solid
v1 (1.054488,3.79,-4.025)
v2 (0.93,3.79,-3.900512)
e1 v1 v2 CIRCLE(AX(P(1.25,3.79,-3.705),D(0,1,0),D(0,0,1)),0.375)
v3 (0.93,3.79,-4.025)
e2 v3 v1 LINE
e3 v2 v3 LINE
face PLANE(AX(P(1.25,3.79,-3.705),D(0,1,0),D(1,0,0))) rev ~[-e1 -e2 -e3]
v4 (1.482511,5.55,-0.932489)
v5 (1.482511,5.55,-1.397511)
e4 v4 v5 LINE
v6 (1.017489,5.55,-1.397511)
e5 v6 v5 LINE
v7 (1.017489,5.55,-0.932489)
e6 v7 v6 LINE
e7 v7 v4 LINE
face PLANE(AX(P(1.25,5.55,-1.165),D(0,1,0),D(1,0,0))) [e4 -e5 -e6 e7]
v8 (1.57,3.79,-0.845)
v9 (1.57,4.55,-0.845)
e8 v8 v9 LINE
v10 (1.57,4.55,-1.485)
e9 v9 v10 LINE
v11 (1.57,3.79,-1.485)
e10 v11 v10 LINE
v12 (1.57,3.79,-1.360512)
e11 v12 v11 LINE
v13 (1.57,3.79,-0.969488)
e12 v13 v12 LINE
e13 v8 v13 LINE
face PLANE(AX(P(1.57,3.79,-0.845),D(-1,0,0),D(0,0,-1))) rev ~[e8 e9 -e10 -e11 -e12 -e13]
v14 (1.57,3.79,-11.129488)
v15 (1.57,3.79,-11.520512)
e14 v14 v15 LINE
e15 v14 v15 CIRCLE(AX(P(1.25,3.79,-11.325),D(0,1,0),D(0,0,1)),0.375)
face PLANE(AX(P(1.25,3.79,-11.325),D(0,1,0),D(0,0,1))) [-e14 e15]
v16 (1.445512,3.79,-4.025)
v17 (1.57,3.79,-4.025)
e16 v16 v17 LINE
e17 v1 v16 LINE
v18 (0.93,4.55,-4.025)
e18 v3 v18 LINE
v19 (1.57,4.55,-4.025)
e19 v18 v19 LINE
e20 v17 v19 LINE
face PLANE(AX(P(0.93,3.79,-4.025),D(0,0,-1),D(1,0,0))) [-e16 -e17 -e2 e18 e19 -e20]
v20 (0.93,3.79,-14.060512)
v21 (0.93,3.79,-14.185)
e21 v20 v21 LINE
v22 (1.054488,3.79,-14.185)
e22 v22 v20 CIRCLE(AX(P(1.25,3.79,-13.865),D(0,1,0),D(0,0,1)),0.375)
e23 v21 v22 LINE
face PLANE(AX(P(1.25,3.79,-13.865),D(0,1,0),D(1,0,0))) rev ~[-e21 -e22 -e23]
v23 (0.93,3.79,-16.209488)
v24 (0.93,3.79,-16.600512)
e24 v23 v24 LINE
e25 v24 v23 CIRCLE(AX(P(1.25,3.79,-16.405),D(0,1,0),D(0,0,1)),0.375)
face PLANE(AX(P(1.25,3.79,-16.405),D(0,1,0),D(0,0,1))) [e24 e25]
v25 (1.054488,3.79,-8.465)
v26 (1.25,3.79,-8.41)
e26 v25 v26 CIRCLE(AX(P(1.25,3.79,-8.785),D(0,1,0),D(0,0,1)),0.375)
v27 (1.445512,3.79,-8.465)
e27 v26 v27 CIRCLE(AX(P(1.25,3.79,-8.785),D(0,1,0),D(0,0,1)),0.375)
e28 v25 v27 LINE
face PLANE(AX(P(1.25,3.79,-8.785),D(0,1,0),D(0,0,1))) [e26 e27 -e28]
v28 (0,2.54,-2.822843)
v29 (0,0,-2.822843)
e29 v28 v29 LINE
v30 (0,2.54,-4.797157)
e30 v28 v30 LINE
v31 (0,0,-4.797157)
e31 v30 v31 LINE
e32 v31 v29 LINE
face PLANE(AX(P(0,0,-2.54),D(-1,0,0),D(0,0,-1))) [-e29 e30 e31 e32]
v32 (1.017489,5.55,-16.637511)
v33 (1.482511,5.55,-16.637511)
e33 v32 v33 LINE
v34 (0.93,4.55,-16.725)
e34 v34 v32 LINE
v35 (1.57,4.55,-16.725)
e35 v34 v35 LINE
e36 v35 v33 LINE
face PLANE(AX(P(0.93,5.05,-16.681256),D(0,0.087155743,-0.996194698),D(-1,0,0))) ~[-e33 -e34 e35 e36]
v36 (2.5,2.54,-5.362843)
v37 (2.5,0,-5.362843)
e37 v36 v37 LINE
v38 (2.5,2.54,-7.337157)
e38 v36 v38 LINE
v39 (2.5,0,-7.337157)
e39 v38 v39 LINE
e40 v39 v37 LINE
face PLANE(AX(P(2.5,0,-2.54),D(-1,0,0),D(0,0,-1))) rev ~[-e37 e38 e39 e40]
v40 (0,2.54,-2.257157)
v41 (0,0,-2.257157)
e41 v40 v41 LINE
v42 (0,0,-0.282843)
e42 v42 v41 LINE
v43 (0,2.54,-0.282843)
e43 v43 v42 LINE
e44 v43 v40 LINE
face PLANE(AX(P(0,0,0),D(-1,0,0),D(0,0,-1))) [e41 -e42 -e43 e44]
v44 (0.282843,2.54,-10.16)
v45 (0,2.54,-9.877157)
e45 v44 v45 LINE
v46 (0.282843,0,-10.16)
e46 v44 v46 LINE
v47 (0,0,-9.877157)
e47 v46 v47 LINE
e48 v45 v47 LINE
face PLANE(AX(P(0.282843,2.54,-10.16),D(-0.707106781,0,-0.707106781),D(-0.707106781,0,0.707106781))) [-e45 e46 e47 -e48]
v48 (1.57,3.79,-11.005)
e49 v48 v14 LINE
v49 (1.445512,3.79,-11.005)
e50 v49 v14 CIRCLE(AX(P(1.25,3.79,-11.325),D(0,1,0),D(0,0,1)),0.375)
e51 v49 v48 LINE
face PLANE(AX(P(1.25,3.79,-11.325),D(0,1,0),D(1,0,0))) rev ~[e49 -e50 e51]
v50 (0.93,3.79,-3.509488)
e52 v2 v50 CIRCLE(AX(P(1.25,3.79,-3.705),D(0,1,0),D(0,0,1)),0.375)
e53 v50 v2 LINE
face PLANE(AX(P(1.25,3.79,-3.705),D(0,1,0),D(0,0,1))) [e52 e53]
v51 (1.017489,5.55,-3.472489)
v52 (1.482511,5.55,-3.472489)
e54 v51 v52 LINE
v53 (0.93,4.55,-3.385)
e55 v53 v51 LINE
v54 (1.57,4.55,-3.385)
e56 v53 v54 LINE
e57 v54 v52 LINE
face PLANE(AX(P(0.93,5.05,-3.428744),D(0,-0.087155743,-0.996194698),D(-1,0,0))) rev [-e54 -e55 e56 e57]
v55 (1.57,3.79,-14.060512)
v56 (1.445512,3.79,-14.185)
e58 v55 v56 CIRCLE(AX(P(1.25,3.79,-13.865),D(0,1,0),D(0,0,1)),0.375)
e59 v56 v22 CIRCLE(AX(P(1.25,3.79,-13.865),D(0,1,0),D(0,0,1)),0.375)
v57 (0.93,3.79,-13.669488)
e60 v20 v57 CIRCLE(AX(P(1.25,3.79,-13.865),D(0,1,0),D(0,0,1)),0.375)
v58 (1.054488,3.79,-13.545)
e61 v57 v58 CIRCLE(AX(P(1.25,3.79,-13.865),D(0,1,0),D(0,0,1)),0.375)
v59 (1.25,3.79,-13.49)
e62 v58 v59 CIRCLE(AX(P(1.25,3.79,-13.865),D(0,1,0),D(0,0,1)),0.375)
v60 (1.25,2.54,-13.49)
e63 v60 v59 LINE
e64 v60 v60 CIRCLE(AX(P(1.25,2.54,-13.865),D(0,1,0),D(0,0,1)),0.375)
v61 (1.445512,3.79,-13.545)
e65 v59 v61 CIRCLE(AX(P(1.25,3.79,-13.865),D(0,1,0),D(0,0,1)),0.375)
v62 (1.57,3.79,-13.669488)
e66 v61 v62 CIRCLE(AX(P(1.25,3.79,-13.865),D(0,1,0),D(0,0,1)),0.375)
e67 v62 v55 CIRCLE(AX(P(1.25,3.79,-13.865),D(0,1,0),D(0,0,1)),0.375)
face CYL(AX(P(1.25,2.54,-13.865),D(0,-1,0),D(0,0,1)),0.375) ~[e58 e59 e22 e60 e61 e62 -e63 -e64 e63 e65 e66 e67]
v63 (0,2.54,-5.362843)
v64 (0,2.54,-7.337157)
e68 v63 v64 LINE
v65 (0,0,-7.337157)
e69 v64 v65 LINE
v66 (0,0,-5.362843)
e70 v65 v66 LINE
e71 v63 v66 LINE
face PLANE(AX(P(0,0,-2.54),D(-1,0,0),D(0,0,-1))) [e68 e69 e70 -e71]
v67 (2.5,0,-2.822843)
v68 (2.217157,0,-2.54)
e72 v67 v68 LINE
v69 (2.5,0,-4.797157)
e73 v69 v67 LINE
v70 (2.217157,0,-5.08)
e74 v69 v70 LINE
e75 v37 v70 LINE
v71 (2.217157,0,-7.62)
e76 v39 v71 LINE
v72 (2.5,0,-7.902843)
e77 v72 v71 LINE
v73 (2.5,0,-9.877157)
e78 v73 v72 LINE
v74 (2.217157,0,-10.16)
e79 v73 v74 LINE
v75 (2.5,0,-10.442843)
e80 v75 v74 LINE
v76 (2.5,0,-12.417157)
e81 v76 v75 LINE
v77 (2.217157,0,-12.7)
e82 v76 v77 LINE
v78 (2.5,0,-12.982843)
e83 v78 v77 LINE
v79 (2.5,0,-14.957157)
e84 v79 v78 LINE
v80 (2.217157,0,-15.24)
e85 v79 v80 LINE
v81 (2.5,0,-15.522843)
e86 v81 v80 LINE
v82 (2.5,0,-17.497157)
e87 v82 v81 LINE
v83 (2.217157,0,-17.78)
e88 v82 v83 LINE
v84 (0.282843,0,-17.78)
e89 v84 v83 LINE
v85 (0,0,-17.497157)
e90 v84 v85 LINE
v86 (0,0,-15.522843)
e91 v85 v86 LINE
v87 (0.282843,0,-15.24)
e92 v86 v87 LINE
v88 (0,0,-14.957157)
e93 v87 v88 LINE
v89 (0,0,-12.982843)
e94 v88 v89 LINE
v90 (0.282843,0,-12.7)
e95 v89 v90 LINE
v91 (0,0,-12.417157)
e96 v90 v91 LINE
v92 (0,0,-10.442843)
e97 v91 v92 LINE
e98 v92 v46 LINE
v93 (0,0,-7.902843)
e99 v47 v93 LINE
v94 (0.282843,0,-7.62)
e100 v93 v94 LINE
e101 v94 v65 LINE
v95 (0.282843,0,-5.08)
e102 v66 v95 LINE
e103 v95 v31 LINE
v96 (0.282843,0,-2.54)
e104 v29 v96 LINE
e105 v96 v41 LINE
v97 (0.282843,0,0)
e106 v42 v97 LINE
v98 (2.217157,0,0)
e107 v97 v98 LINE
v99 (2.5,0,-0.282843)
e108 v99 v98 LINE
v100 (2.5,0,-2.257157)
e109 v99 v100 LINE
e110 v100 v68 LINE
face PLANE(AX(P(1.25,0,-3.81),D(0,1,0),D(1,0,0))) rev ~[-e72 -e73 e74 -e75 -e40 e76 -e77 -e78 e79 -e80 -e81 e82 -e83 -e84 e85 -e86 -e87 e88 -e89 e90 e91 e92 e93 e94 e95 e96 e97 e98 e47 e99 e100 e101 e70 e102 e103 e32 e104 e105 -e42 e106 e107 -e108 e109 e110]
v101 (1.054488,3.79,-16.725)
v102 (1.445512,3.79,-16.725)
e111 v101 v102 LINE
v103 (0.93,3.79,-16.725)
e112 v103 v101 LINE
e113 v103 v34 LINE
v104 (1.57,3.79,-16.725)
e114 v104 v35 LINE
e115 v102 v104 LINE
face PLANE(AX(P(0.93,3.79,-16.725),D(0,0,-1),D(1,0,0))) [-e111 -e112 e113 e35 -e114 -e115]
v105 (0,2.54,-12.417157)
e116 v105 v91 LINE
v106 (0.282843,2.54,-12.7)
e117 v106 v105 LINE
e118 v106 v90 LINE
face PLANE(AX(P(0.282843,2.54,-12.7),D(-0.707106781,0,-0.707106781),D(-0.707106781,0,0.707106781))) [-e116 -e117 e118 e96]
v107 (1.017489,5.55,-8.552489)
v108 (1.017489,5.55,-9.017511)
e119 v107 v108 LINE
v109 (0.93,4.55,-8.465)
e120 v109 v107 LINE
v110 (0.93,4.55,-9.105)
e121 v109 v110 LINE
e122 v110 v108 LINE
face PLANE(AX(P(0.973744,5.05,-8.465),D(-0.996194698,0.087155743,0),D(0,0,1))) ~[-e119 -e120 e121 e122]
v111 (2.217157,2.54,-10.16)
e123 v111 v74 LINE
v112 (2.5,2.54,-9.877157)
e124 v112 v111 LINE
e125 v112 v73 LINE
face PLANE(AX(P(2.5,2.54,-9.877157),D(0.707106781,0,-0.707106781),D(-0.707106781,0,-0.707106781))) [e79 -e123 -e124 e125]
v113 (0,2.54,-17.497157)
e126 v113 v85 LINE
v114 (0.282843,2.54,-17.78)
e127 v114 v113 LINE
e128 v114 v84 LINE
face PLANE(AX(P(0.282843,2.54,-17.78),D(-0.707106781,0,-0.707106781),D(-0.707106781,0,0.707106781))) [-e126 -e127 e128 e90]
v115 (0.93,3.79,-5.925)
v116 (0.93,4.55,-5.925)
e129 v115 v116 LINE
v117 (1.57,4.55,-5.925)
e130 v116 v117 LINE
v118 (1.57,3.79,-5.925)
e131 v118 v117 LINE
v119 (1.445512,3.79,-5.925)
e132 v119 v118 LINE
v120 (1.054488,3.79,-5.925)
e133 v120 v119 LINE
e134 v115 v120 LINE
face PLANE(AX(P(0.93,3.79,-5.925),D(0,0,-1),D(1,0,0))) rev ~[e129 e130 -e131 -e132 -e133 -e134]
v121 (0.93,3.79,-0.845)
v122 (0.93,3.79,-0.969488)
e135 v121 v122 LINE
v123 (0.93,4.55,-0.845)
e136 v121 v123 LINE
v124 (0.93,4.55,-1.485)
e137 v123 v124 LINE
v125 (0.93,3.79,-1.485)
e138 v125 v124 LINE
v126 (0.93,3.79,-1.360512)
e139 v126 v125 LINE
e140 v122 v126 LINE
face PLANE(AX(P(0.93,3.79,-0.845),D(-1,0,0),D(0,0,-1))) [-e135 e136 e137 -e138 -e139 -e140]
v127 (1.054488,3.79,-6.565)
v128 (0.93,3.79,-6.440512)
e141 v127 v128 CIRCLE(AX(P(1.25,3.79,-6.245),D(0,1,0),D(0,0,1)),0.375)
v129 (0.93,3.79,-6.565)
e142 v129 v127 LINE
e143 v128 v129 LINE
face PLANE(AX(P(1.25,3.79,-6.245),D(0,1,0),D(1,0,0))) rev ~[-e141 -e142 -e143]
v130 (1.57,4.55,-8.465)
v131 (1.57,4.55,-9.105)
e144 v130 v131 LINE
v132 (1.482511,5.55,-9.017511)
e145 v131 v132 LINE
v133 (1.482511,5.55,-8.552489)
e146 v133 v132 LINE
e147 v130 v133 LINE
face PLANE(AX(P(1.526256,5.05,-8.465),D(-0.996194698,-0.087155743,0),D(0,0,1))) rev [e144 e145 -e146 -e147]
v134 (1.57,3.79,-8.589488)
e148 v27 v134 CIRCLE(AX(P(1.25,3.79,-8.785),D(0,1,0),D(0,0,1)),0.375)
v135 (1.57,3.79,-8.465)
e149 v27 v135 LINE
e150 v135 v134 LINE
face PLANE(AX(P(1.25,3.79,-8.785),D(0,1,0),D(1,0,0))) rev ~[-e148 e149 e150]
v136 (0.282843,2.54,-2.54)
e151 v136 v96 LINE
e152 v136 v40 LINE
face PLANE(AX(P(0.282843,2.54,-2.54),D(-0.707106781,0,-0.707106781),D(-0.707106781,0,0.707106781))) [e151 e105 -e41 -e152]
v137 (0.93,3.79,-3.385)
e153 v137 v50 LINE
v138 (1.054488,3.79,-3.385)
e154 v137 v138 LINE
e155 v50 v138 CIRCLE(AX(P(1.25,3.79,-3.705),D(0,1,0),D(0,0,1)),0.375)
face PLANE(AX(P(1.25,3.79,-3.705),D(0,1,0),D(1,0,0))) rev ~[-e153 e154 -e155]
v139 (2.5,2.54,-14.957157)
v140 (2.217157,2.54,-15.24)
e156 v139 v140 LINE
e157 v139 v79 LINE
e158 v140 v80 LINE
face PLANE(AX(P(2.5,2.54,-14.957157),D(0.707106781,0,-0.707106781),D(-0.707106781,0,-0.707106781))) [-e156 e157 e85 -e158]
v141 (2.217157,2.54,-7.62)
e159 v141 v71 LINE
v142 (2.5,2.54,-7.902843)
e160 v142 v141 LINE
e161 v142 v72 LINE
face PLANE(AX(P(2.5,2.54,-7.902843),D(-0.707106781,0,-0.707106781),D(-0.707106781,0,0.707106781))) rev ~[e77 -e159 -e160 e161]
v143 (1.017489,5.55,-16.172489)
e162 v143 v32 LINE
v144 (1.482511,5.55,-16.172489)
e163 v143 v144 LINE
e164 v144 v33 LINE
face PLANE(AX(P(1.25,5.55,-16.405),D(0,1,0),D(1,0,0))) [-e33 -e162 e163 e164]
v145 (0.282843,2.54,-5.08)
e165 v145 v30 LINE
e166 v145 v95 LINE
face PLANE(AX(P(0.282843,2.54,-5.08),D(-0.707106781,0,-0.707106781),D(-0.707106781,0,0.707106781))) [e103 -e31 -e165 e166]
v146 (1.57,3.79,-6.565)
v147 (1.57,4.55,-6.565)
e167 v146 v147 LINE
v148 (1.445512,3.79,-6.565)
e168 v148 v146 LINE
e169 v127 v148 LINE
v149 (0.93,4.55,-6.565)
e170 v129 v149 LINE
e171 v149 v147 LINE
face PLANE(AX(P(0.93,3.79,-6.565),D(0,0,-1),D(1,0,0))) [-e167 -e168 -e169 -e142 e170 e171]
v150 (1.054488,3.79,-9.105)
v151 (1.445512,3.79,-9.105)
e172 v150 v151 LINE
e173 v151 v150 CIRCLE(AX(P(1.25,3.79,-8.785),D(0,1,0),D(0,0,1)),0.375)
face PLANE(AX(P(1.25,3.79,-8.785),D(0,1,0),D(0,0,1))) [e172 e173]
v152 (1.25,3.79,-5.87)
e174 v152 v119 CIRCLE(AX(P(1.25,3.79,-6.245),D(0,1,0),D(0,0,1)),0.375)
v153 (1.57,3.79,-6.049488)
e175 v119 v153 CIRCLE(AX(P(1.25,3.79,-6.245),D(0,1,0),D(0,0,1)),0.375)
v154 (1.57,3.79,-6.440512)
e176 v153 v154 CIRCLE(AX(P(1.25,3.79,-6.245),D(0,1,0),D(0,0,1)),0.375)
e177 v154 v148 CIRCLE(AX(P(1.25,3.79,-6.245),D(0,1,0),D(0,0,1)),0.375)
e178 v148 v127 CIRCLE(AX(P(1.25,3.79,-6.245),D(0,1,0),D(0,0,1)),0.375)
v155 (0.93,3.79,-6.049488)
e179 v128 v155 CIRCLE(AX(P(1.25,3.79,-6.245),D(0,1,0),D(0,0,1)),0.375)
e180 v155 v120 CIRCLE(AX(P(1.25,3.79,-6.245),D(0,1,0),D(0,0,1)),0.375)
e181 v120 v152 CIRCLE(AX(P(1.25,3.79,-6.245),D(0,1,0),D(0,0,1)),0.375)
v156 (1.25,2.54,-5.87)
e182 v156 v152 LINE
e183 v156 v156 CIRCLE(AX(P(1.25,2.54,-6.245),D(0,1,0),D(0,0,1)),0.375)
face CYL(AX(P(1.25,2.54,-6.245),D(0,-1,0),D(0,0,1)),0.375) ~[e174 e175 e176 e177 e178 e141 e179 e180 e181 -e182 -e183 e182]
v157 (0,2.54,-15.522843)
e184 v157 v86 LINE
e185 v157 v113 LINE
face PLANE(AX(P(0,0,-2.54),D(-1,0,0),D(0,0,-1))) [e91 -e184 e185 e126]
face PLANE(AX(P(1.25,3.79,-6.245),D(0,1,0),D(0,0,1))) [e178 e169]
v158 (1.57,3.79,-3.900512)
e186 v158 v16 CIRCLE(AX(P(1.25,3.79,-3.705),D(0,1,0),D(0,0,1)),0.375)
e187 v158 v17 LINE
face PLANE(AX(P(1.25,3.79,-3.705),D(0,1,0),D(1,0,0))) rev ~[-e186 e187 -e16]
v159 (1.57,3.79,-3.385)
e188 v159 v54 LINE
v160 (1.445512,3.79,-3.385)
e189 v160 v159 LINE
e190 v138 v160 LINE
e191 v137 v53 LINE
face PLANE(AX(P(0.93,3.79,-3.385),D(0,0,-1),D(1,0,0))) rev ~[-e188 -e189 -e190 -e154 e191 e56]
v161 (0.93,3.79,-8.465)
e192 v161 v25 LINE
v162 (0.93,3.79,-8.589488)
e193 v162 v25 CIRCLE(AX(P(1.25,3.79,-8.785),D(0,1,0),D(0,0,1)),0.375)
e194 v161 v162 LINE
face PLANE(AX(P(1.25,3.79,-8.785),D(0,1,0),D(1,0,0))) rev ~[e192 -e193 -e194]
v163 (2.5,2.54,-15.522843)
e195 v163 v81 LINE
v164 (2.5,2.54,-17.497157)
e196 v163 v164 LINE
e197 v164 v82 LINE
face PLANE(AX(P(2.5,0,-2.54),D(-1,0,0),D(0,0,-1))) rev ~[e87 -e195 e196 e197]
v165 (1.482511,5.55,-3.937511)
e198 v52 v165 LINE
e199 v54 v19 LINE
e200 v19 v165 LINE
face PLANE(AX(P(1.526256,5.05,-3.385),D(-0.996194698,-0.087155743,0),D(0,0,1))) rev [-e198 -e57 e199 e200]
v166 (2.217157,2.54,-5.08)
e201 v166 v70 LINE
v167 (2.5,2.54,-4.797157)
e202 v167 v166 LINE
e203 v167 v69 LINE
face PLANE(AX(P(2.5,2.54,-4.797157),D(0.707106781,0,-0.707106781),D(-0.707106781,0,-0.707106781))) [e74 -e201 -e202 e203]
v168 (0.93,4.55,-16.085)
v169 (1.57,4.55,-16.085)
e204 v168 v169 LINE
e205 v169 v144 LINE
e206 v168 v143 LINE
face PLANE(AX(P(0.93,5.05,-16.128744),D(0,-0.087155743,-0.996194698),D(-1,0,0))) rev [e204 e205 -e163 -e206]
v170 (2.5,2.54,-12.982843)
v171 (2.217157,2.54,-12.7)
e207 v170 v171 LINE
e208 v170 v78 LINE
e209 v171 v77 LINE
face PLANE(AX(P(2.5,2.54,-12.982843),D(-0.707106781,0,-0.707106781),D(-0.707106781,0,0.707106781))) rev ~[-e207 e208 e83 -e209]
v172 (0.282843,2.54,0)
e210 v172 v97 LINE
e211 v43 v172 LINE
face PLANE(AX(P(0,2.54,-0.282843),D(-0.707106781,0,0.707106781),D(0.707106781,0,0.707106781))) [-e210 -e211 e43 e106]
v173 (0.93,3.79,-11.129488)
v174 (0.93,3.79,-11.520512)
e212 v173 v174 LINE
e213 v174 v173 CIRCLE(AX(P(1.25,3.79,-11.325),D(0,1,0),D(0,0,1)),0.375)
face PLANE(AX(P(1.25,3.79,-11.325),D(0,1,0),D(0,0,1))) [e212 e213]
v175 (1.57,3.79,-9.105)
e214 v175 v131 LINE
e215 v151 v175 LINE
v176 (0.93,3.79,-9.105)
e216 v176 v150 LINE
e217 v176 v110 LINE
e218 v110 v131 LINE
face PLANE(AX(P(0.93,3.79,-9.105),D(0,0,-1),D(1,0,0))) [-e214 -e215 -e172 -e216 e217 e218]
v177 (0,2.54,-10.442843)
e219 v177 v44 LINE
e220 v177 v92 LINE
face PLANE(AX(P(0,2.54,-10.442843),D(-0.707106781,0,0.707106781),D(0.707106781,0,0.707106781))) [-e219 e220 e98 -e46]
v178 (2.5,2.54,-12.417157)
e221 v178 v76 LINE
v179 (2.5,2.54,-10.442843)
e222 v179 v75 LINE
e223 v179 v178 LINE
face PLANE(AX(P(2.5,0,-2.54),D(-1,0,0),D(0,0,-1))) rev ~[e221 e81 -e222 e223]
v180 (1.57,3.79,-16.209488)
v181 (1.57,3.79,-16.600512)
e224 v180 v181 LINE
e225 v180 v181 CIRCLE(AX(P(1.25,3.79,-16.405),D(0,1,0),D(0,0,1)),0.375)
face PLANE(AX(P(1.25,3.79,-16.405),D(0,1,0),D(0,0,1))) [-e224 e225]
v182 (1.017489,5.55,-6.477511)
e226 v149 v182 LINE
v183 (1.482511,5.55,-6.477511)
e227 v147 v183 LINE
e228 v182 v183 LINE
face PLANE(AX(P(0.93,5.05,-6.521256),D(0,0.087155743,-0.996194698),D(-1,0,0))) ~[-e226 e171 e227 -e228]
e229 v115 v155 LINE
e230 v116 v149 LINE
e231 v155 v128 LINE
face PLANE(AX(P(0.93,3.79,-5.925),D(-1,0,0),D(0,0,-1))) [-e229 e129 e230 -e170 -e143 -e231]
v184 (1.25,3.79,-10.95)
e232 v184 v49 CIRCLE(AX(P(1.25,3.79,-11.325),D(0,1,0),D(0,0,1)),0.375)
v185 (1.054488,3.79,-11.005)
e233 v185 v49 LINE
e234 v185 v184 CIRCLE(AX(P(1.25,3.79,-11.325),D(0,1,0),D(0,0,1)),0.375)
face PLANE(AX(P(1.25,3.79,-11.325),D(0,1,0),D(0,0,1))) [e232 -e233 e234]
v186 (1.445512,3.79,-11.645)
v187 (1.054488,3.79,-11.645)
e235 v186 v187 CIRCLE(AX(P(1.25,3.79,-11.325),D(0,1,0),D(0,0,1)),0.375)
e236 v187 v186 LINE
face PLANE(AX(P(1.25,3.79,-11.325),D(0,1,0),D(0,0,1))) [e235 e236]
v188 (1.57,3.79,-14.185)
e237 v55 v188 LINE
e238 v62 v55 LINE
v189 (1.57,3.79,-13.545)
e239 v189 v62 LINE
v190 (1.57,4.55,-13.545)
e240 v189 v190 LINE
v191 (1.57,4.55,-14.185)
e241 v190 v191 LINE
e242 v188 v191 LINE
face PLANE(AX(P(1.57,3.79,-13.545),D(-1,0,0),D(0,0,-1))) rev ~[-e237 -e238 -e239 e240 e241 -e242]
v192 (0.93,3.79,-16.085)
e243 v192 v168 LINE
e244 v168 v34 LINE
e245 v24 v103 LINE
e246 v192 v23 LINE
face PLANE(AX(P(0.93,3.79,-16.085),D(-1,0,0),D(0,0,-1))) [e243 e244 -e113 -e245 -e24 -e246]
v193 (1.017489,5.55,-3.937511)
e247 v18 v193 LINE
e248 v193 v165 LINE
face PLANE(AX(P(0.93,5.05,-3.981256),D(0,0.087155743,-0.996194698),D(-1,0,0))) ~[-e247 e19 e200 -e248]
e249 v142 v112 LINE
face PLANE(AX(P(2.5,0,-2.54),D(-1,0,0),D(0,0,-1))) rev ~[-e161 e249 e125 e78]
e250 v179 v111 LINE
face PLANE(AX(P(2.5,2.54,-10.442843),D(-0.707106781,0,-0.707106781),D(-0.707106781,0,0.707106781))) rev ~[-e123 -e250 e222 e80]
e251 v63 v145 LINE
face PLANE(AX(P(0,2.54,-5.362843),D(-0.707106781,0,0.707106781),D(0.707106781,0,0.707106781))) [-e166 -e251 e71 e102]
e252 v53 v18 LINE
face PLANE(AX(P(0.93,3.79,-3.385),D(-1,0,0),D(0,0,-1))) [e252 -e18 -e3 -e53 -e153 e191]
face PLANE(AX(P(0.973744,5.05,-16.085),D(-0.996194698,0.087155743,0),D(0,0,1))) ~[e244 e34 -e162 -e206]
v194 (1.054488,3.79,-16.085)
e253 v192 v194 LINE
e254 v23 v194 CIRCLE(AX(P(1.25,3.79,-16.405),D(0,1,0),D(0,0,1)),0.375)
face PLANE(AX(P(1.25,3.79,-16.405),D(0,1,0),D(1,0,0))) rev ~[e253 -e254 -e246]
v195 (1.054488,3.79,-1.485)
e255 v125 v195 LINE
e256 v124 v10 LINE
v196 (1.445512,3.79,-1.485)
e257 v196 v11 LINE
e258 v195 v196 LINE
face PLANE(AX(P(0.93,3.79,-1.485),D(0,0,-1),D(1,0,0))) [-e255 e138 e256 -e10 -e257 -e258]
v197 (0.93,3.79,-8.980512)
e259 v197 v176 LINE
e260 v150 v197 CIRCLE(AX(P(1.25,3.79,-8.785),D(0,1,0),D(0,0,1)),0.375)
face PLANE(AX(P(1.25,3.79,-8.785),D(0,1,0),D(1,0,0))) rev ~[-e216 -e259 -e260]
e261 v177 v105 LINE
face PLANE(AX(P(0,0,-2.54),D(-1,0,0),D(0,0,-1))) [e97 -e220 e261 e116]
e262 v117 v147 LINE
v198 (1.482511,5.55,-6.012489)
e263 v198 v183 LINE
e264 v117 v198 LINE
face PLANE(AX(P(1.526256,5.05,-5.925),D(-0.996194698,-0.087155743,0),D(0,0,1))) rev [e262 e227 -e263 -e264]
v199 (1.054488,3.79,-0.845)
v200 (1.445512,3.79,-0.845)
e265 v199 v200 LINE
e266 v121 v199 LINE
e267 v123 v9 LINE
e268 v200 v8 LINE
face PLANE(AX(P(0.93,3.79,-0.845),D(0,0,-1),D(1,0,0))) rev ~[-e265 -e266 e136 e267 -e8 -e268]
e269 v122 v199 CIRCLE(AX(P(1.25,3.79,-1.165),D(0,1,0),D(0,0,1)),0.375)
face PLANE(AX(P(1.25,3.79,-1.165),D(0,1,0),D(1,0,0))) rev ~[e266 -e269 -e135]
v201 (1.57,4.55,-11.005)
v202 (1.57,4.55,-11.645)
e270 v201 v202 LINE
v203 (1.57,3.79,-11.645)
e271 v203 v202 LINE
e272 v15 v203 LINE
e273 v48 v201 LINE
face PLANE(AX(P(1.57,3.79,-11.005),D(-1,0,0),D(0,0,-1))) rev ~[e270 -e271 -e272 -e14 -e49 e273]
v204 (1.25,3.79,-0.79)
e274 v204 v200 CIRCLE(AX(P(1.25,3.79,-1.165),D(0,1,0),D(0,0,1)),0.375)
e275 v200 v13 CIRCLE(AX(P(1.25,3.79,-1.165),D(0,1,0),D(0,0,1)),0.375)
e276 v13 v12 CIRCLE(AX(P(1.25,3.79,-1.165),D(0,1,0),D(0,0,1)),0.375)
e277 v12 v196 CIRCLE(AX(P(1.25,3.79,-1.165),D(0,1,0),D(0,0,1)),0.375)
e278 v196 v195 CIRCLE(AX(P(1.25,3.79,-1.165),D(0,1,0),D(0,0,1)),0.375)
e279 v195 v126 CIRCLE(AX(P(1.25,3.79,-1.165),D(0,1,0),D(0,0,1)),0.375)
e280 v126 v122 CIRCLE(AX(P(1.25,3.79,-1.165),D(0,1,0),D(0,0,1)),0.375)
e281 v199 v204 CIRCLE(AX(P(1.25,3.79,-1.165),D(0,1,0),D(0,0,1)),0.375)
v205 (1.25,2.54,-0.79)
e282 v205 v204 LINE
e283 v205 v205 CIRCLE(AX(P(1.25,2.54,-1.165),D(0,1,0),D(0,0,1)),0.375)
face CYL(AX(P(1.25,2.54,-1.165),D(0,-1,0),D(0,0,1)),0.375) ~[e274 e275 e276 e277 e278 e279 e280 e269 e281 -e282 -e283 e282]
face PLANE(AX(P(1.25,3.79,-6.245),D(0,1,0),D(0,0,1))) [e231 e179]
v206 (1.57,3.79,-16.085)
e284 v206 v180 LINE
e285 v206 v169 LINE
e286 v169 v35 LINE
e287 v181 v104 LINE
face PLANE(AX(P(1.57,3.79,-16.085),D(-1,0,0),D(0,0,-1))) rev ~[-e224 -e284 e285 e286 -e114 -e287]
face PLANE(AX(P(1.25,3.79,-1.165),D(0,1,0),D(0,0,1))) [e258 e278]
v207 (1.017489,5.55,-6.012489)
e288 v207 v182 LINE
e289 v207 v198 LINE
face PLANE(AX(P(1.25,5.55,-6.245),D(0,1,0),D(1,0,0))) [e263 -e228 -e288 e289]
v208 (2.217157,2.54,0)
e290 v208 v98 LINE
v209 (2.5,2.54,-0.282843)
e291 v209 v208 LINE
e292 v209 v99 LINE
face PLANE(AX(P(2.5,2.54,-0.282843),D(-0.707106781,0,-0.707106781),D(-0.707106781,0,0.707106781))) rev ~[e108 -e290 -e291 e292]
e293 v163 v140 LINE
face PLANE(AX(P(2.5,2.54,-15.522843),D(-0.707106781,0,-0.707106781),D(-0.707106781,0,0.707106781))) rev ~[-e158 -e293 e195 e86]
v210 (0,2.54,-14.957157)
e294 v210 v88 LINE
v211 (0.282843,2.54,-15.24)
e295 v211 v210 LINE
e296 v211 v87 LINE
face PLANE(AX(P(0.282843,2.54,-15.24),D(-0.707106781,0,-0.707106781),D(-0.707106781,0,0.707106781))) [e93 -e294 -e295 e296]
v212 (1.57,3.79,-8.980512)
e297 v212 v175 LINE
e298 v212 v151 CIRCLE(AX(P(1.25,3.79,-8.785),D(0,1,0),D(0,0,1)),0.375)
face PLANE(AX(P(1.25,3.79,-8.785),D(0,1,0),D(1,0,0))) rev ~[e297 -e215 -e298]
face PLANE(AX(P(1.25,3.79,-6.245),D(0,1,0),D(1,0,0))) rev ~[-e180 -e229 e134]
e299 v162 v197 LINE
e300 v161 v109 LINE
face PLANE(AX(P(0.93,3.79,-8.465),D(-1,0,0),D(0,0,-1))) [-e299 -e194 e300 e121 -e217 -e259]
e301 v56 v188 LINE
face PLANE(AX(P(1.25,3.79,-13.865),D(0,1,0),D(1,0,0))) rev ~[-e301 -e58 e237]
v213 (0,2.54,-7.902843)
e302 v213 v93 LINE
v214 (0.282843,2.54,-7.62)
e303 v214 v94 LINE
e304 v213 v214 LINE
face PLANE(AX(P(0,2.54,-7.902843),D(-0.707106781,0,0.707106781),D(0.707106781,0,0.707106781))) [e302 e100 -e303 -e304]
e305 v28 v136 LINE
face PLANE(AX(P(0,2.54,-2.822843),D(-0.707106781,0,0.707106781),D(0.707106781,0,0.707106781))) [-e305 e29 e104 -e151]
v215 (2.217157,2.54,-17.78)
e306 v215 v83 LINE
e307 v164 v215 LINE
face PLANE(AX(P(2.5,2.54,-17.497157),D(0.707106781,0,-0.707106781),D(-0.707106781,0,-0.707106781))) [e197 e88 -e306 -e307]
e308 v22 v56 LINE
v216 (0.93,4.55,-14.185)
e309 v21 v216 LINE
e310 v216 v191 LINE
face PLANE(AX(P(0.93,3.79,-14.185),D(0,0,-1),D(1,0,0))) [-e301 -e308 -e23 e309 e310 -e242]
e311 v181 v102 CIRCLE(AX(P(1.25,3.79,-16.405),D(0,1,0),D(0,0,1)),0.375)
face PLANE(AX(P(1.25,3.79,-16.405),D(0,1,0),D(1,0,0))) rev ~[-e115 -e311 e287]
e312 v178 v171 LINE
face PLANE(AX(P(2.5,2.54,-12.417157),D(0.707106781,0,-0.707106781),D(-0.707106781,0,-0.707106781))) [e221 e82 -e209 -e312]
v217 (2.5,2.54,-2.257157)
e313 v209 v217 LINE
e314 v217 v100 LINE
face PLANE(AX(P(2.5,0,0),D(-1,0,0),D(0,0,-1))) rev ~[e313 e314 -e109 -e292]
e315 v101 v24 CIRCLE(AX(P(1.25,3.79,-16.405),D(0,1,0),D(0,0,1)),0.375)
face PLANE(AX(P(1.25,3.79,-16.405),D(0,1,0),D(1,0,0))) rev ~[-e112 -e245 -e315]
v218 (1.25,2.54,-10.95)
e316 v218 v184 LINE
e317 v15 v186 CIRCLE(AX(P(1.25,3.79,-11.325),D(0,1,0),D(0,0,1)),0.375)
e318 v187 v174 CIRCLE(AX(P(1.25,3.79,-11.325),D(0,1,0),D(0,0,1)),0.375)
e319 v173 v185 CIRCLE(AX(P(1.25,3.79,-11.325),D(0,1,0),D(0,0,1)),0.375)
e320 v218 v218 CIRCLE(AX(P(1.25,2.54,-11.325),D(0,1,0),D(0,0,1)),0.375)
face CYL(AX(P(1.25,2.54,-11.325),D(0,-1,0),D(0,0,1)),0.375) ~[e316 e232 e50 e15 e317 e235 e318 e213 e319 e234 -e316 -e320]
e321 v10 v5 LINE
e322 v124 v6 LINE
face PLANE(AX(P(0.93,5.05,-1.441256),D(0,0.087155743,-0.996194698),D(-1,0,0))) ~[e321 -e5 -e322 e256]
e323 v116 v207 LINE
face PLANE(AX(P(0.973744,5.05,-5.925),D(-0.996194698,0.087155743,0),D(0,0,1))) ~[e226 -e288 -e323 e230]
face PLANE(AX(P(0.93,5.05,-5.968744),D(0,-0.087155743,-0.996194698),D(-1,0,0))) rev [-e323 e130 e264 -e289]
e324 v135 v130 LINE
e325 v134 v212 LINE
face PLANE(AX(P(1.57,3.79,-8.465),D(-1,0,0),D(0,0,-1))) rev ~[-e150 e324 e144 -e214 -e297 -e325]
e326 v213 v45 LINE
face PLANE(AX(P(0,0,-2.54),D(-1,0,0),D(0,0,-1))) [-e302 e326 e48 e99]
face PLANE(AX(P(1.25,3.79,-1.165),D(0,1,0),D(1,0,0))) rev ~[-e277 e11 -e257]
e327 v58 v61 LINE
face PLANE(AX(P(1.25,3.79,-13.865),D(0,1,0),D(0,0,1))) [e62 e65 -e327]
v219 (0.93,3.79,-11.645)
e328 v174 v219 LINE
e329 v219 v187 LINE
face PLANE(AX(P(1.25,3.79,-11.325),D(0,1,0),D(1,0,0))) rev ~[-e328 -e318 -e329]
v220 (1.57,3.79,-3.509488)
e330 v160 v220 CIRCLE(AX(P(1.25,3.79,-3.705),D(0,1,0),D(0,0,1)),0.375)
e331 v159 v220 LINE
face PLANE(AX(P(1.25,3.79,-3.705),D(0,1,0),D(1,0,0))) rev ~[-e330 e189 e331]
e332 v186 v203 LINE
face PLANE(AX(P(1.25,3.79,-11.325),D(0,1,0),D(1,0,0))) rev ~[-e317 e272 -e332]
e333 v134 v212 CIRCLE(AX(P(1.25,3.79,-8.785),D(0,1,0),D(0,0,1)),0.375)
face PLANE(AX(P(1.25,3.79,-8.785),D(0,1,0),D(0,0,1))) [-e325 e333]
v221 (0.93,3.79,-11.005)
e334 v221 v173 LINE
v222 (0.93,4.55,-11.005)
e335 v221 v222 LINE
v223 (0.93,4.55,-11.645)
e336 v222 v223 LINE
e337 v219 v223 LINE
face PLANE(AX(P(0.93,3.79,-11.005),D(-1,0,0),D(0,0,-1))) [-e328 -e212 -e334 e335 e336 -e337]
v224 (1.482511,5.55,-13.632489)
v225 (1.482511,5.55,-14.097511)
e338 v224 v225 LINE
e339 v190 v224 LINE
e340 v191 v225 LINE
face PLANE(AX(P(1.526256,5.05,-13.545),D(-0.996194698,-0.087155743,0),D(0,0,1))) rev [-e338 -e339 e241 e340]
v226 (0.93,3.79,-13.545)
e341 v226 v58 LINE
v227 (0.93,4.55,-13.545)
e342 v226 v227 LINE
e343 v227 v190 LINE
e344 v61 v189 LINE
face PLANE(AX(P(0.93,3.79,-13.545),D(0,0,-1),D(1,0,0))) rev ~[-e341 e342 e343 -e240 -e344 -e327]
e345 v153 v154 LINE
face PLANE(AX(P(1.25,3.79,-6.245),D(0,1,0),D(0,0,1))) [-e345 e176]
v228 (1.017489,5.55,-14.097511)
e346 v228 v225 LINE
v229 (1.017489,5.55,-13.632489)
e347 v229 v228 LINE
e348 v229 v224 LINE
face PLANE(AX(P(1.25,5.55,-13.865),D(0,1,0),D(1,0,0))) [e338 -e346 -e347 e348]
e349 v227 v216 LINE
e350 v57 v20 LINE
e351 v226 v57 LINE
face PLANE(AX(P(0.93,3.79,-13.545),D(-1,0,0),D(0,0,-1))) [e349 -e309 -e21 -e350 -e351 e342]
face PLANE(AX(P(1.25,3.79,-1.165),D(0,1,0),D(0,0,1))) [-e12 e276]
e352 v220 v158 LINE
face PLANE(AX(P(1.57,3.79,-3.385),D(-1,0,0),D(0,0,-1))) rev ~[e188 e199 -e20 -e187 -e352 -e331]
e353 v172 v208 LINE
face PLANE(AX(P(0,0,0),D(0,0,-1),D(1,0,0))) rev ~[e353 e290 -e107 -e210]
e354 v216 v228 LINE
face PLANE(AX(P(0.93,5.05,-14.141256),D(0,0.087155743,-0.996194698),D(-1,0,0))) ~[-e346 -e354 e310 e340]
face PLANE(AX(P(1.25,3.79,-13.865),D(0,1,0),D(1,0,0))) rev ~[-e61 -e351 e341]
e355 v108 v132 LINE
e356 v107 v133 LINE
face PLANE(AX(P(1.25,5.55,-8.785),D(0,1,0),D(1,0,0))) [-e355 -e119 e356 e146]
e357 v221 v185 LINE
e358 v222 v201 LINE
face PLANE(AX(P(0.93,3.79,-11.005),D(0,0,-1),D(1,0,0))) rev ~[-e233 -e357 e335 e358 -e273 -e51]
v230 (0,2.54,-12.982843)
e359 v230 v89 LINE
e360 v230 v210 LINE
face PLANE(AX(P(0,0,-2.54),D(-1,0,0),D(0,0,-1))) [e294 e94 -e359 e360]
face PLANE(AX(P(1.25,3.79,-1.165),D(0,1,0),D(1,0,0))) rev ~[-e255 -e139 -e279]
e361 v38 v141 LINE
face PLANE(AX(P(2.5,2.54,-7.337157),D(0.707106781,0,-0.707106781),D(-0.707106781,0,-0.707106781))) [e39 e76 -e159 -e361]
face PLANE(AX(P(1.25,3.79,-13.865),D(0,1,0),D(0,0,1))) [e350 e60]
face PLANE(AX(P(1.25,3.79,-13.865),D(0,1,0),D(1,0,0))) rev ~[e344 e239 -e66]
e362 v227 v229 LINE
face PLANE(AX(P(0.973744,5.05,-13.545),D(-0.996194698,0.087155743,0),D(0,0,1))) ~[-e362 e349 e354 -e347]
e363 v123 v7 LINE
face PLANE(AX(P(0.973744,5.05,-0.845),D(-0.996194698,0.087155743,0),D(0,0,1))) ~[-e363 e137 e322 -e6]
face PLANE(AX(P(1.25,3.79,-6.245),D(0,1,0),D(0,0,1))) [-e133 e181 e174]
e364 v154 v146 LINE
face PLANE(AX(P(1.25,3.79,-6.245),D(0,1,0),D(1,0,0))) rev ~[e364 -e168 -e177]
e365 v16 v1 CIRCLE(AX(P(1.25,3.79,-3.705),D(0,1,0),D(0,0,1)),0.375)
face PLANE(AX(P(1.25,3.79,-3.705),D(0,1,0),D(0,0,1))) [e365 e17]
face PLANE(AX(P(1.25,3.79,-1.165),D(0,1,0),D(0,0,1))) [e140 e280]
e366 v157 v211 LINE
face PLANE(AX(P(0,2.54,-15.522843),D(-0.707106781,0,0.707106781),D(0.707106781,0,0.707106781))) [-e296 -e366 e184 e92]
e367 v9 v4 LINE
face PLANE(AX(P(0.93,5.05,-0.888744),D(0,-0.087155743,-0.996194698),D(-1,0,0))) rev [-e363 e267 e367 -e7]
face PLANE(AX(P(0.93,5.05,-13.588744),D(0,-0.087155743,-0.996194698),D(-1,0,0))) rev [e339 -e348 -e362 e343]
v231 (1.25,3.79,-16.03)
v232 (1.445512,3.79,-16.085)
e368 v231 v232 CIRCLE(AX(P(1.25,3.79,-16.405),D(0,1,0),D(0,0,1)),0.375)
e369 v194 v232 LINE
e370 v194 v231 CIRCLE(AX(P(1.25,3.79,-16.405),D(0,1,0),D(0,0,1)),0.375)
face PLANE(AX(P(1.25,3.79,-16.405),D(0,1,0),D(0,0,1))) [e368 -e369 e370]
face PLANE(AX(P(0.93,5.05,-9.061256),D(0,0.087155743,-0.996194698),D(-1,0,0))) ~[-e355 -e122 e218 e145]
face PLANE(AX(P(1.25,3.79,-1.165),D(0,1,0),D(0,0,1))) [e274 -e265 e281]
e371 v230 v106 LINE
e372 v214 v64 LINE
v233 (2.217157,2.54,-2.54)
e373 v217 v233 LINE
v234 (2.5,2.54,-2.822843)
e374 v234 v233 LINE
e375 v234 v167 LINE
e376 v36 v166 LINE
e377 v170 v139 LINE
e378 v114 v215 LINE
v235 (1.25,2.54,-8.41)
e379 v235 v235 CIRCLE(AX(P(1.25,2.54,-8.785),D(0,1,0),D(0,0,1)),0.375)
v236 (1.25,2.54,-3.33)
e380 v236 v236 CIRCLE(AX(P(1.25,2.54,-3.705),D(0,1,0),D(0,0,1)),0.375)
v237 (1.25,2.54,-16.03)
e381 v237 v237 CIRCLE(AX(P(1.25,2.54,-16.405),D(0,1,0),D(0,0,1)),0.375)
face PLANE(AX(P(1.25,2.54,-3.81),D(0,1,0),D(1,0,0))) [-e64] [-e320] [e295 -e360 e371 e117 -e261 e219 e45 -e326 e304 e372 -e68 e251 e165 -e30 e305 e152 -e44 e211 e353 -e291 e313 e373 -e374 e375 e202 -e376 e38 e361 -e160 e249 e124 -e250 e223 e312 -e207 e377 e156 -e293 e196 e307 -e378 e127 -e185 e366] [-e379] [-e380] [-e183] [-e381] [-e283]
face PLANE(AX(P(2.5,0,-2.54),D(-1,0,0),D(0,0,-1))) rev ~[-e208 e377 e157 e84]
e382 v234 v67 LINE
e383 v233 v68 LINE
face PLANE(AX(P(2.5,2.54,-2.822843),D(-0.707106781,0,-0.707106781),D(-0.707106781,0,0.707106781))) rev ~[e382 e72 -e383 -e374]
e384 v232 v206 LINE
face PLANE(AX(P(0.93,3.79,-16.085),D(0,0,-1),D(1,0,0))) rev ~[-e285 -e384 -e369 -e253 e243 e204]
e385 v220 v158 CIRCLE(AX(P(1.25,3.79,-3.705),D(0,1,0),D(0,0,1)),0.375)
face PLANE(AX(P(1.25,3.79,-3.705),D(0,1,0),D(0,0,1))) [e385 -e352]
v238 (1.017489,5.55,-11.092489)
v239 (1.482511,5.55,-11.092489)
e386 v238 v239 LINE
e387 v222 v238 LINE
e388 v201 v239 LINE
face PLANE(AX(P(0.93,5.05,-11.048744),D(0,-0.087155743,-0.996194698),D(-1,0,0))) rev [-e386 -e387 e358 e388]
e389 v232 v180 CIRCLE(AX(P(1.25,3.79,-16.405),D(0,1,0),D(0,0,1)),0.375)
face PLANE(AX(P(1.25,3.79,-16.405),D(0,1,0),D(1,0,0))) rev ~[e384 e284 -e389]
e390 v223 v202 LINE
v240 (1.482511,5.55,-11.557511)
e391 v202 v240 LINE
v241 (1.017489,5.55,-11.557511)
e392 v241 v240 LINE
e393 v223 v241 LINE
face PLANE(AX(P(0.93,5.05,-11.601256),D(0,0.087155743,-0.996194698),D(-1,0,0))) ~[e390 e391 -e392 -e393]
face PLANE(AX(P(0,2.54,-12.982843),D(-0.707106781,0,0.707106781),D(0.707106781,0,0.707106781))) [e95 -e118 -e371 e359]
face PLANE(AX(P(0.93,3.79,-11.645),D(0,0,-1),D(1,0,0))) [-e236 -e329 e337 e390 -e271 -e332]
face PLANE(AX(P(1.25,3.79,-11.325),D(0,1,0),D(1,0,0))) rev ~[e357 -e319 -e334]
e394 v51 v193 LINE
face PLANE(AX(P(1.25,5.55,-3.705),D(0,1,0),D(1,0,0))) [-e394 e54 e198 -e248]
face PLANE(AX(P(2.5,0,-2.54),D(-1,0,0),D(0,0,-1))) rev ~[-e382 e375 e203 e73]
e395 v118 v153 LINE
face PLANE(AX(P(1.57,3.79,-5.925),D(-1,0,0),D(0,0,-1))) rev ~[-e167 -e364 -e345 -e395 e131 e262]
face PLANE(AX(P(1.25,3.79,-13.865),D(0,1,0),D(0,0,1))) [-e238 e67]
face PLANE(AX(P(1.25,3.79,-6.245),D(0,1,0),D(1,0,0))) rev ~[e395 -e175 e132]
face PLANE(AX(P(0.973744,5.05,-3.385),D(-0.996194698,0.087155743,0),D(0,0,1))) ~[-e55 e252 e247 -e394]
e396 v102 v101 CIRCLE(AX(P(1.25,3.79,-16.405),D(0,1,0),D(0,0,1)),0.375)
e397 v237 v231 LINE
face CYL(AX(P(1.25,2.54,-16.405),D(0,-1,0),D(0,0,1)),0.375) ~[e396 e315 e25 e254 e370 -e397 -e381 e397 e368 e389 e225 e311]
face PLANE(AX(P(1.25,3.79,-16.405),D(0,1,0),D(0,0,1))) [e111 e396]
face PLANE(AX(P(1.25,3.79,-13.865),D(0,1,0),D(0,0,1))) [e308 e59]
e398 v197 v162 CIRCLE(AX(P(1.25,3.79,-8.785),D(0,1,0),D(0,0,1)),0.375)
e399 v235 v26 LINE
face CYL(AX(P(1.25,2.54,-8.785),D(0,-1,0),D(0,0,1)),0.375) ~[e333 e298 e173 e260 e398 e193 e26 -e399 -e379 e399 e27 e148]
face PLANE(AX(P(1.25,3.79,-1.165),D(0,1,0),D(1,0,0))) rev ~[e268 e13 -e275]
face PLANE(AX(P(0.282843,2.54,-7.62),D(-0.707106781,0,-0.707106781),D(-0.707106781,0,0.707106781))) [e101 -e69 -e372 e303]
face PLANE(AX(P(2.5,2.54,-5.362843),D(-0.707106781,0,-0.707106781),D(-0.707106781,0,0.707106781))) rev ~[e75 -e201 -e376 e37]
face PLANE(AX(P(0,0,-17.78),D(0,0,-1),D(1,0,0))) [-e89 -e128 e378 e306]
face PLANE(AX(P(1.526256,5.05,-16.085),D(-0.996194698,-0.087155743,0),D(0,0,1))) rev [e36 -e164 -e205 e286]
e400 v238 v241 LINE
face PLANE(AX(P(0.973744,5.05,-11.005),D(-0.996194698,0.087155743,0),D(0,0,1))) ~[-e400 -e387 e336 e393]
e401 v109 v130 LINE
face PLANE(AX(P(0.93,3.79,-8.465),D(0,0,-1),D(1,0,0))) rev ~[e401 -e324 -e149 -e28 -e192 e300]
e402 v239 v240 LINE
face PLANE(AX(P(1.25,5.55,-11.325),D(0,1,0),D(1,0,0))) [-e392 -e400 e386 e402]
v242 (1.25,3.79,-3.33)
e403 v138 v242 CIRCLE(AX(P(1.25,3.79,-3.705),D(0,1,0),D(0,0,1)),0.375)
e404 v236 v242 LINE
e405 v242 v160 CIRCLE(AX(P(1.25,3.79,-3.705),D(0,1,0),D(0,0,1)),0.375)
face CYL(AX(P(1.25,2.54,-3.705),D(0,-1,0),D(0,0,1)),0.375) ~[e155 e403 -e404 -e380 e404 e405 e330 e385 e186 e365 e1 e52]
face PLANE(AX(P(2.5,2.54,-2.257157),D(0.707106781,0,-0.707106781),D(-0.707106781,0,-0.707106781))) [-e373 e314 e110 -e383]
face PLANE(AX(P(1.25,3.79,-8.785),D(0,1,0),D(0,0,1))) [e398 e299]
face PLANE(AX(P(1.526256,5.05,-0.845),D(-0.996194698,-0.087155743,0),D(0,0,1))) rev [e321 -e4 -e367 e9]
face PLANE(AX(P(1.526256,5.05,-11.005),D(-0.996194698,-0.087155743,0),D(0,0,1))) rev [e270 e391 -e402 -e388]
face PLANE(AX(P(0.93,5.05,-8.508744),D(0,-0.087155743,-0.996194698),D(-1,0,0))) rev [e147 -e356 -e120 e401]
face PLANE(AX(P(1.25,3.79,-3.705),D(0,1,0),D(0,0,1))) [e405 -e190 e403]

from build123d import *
from OCP.BRepFilletAPI import BRepFilletAPI_MakeChamfer

# Parameters (mm, degrees)
SKETCH1_W           = 2.5
SKETCH1_H           = 2.54
BOSS_EXTRUDE1_DEPTH = 2.54
SKETCH3_R           = 0.375
BOSS_EXTRUDE2_DEPTH = 1.25
SKETCH4_W           = 0.64
SKETCH4_H           = 0.64
BOSS_EXTRUDE3_DEPTH = 1.76
CUT_EXTRUDE1_DEPTH  = 2.54
LPATTERN5_COUNT     = 7
LPATTERN5_PITCH     = 2.54
CHAMFER3_SIZE       = 1
CHAMFER3_SIZE2      = 0.087488664


with BuildPart() as part:
    # Sketch1 → Boss-Extrude1 (new body)
    with BuildSketch(Plane(origin=(0, 0, 0), x_dir=(1, 0, 0), z_dir=(0, 1, 0))):
        with Locations((1.25, 1.27)):
            Rectangle(SKETCH1_W, SKETCH1_H)
    boss_extrude1 = extrude(amount=BOSS_EXTRUDE1_DEPTH)

    # Sketch3 → Boss-Extrude2 (add)
    with BuildSketch(Plane(origin=(0, 2.54, 0), x_dir=(1, 0, 0), z_dir=(0, 1, 0))):
        with Locations(Location((1.25, 1.165, 0), (0, 0, 270))):
            Circle(SKETCH3_R)
    boss_extrude2 = extrude(amount=BOSS_EXTRUDE2_DEPTH)

    # Sketch4 → Boss-Extrude3 (add)
    with BuildSketch(Plane(origin=(0, 3.79, 0), x_dir=(1, 0, 0), z_dir=(0, 1, 0))):
        with Locations((1.25, 1.165)):
            Rectangle(SKETCH4_W, SKETCH4_H)
    boss_extrude3 = extrude(amount=BOSS_EXTRUDE3_DEPTH)

    # Sketch5 → Cut-Extrude1 (cut)
    with BuildSketch(Plane(origin=(0, 2.54, 0), x_dir=(1, 0, 0), z_dir=(0, 1, 0))):
        Polygon((0.282842712, 2.54), (0, 2.257157288), (0, 2.54), align=None)
        Polygon((2.5, 2.54), (2.5, 2.257157288), (2.217157288, 2.54), align=None)
        Polygon((2.5, 0), (2.5, 0.282842712), (2.217157288, 0), align=None)
        Polygon((0, 0), (0, 0.282842712), (0.282842712, 0), align=None)
    cut_extrude1 = extrude(amount=-CUT_EXTRUDE1_DEPTH, mode=Mode.SUBTRACT)

    # LPattern5: Boss-Extrude1, Boss-Extrude2, Boss-Extrude3, Cut-Extrude1 ×7
    with Locations(*[(0, 0, -i * LPATTERN5_PITCH) for i in range(1, LPATTERN5_COUNT)]):
        add(boss_extrude1)
        add(boss_extrude2)
        add(boss_extrude3)
        add(cut_extrude1, mode=Mode.SUBTRACT)

    # Chamfer3: one chamfer whose edges measure the first distance from different faces: ONE call of the kernel's chamfer builder (chamfer() names one face for all edges)
    chamfer3_edges_1 = [part.edges().sort_by_distance(p)[0] for p in [
        (1.57, 5.55, -3.705),
    ]]
    chamfer3_side_1 = [part.faces().sort_by_distance(p)[0] for p in [
        (1.57, 4.67, -3.705),
    ]]
    chamfer3_edges_2 = [part.edges().sort_by_distance(p)[0] for p in [
        (1.25, 5.55, -4.025),
    ]]
    chamfer3_side_2 = [part.faces().sort_by_distance(p)[0] for p in [
        (1.25, 4.67, -4.025),
    ]]
    chamfer3_edges_3 = [part.edges().sort_by_distance(p)[0] for p in [
        (0.93, 5.55, -3.705),
    ]]
    chamfer3_side_3 = [part.faces().sort_by_distance(p)[0] for p in [
        (0.93, 4.67, -3.705),
    ]]
    chamfer3_edges_4 = [part.edges().sort_by_distance(p)[0] for p in [
        (1.25, 5.55, -3.385),
    ]]
    chamfer3_side_4 = [part.faces().sort_by_distance(p)[0] for p in [
        (1.25, 4.67, -3.385),
    ]]
    chamfer3_edges_5 = [part.edges().sort_by_distance(p)[0] for p in [
        (1.57, 5.55, -6.245),
    ]]
    chamfer3_side_5 = [part.faces().sort_by_distance(p)[0] for p in [
        (1.57, 4.67, -6.245),
    ]]
    chamfer3_edges_6 = [part.edges().sort_by_distance(p)[0] for p in [
        (1.25, 5.55, -6.565),
    ]]
    chamfer3_side_6 = [part.faces().sort_by_distance(p)[0] for p in [
        (1.25, 4.67, -6.565),
    ]]
    chamfer3_edges_7 = [part.edges().sort_by_distance(p)[0] for p in [
        (0.93, 5.55, -6.245),
    ]]
    chamfer3_side_7 = [part.faces().sort_by_distance(p)[0] for p in [
        (0.93, 4.67, -6.245),
    ]]
    chamfer3_edges_8 = [part.edges().sort_by_distance(p)[0] for p in [
        (1.25, 5.55, -5.925),
    ]]
    chamfer3_side_8 = [part.faces().sort_by_distance(p)[0] for p in [
        (1.25, 4.67, -5.925),
    ]]
    chamfer3_edges_9 = [part.edges().sort_by_distance(p)[0] for p in [
        (1.57, 5.55, -8.785),
    ]]
    chamfer3_side_9 = [part.faces().sort_by_distance(p)[0] for p in [
        (1.57, 4.67, -8.785),
    ]]
    chamfer3_edges_10 = [part.edges().sort_by_distance(p)[0] for p in [
        (1.25, 5.55, -9.105),
    ]]
    chamfer3_side_10 = [part.faces().sort_by_distance(p)[0] for p in [
        (1.25, 4.67, -9.105),
    ]]
    chamfer3_edges_11 = [part.edges().sort_by_distance(p)[0] for p in [
        (0.93, 5.55, -8.785),
    ]]
    chamfer3_side_11 = [part.faces().sort_by_distance(p)[0] for p in [
        (0.93, 4.67, -8.785),
    ]]
    chamfer3_edges_12 = [part.edges().sort_by_distance(p)[0] for p in [
        (1.25, 5.55, -8.465),
    ]]
    chamfer3_side_12 = [part.faces().sort_by_distance(p)[0] for p in [
        (1.25, 4.67, -8.465),
    ]]
    chamfer3_edges_13 = [part.edges().sort_by_distance(p)[0] for p in [
        (1.57, 5.55, -11.325),
    ]]
    chamfer3_side_13 = [part.faces().sort_by_distance(p)[0] for p in [
        (1.57, 4.67, -11.325),
    ]]
    chamfer3_edges_14 = [part.edges().sort_by_distance(p)[0] for p in [
        (1.25, 5.55, -11.645),
    ]]
    chamfer3_side_14 = [part.faces().sort_by_distance(p)[0] for p in [
        (1.25, 4.67, -11.645),
    ]]
    chamfer3_edges_15 = [part.edges().sort_by_distance(p)[0] for p in [
        (0.93, 5.55, -11.325),
    ]]
    chamfer3_side_15 = [part.faces().sort_by_distance(p)[0] for p in [
        (0.93, 4.67, -11.325),
    ]]
    chamfer3_edges_16 = [part.edges().sort_by_distance(p)[0] for p in [
        (1.25, 5.55, -11.005),
    ]]
    chamfer3_side_16 = [part.faces().sort_by_distance(p)[0] for p in [
        (1.25, 4.67, -11.005),
    ]]
    chamfer3_edges_17 = [part.edges().sort_by_distance(p)[0] for p in [
        (1.57, 5.55, -13.865),
    ]]
    chamfer3_side_17 = [part.faces().sort_by_distance(p)[0] for p in [
        (1.57, 4.67, -13.865),
    ]]
    chamfer3_edges_18 = [part.edges().sort_by_distance(p)[0] for p in [
        (1.25, 5.55, -14.185),
    ]]
    chamfer3_side_18 = [part.faces().sort_by_distance(p)[0] for p in [
        (1.25, 4.67, -14.185),
    ]]
    chamfer3_edges_19 = [part.edges().sort_by_distance(p)[0] for p in [
        (0.93, 5.55, -13.865),
    ]]
    chamfer3_side_19 = [part.faces().sort_by_distance(p)[0] for p in [
        (0.93, 4.67, -13.865),
    ]]
    chamfer3_edges_20 = [part.edges().sort_by_distance(p)[0] for p in [
        (1.25, 5.55, -13.545),
    ]]
    chamfer3_side_20 = [part.faces().sort_by_distance(p)[0] for p in [
        (1.25, 4.67, -13.545),
    ]]
    chamfer3_edges_21 = [part.edges().sort_by_distance(p)[0] for p in [
        (1.57, 5.55, -16.405),
    ]]
    chamfer3_side_21 = [part.faces().sort_by_distance(p)[0] for p in [
        (1.57, 4.67, -16.405),
    ]]
    chamfer3_edges_22 = [part.edges().sort_by_distance(p)[0] for p in [
        (1.25, 5.55, -16.725),
    ]]
    chamfer3_side_22 = [part.faces().sort_by_distance(p)[0] for p in [
        (1.25, 4.67, -16.725),
    ]]
    chamfer3_edges_23 = [part.edges().sort_by_distance(p)[0] for p in [
        (0.93, 5.55, -16.405),
    ]]
    chamfer3_side_23 = [part.faces().sort_by_distance(p)[0] for p in [
        (0.93, 4.67, -16.405),
    ]]
    chamfer3_edges_24 = [part.edges().sort_by_distance(p)[0] for p in [
        (1.25, 5.55, -16.085),
    ]]
    chamfer3_side_24 = [part.faces().sort_by_distance(p)[0] for p in [
        (1.25, 4.67, -16.085),
    ]]
    chamfer3_edges_25 = [part.edges().sort_by_distance(p)[0] for p in [
        (1.57, 5.55, -1.165),
    ]]
    chamfer3_side_25 = [part.faces().sort_by_distance(p)[0] for p in [
        (1.57, 4.67, -1.165),
    ]]
    chamfer3_edges_26 = [part.edges().sort_by_distance(p)[0] for p in [
        (1.25, 5.55, -1.485),
    ]]
    chamfer3_side_26 = [part.faces().sort_by_distance(p)[0] for p in [
        (1.25, 4.67, -1.485),
    ]]
    chamfer3_edges_27 = [part.edges().sort_by_distance(p)[0] for p in [
        (0.93, 5.55, -1.165),
    ]]
    chamfer3_side_27 = [part.faces().sort_by_distance(p)[0] for p in [
        (0.93, 4.67, -1.165),
    ]]
    chamfer3_edges_28 = [part.edges().sort_by_distance(p)[0] for p in [
        (1.25, 5.55, -0.845),
    ]]
    chamfer3_side_28 = [part.faces().sort_by_distance(p)[0] for p in [
        (1.25, 4.67, -0.845),
    ]]
    chamfer3 = BRepFilletAPI_MakeChamfer(part.part.solid().wrapped)
    for e in chamfer3_edges_1:
        chamfer3.Add(CHAMFER3_SIZE, CHAMFER3_SIZE2, e.wrapped, chamfer3_side_1[0].wrapped)  # the first distance lies on this face
    for e in chamfer3_edges_2:
        chamfer3.Add(CHAMFER3_SIZE, CHAMFER3_SIZE2, e.wrapped, chamfer3_side_2[0].wrapped)  # the first distance lies on this face
    for e in chamfer3_edges_3:
        chamfer3.Add(CHAMFER3_SIZE, CHAMFER3_SIZE2, e.wrapped, chamfer3_side_3[0].wrapped)  # the first distance lies on this face
    for e in chamfer3_edges_4:
        chamfer3.Add(CHAMFER3_SIZE, CHAMFER3_SIZE2, e.wrapped, chamfer3_side_4[0].wrapped)  # the first distance lies on this face
    for e in chamfer3_edges_5:
        chamfer3.Add(CHAMFER3_SIZE, CHAMFER3_SIZE2, e.wrapped, chamfer3_side_5[0].wrapped)  # the first distance lies on this face
    for e in chamfer3_edges_6:
        chamfer3.Add(CHAMFER3_SIZE, CHAMFER3_SIZE2, e.wrapped, chamfer3_side_6[0].wrapped)  # the first distance lies on this face
    for e in chamfer3_edges_7:
        chamfer3.Add(CHAMFER3_SIZE, CHAMFER3_SIZE2, e.wrapped, chamfer3_side_7[0].wrapped)  # the first distance lies on this face
    for e in chamfer3_edges_8:
        chamfer3.Add(CHAMFER3_SIZE, CHAMFER3_SIZE2, e.wrapped, chamfer3_side_8[0].wrapped)  # the first distance lies on this face
    for e in chamfer3_edges_9:
        chamfer3.Add(CHAMFER3_SIZE, CHAMFER3_SIZE2, e.wrapped, chamfer3_side_9[0].wrapped)  # the first distance lies on this face
    for e in chamfer3_edges_10:
        chamfer3.Add(CHAMFER3_SIZE, CHAMFER3_SIZE2, e.wrapped, chamfer3_side_10[0].wrapped)  # the first distance lies on this face
    for e in chamfer3_edges_11:
        chamfer3.Add(CHAMFER3_SIZE, CHAMFER3_SIZE2, e.wrapped, chamfer3_side_11[0].wrapped)  # the first distance lies on this face
    for e in chamfer3_edges_12:
        chamfer3.Add(CHAMFER3_SIZE, CHAMFER3_SIZE2, e.wrapped, chamfer3_side_12[0].wrapped)  # the first distance lies on this face
    for e in chamfer3_edges_13:
        chamfer3.Add(CHAMFER3_SIZE, CHAMFER3_SIZE2, e.wrapped, chamfer3_side_13[0].wrapped)  # the first distance lies on this face
    for e in chamfer3_edges_14:
        chamfer3.Add(CHAMFER3_SIZE, CHAMFER3_SIZE2, e.wrapped, chamfer3_side_14[0].wrapped)  # the first distance lies on this face
    for e in chamfer3_edges_15:
        chamfer3.Add(CHAMFER3_SIZE, CHAMFER3_SIZE2, e.wrapped, chamfer3_side_15[0].wrapped)  # the first distance lies on this face
    for e in chamfer3_edges_16:
        chamfer3.Add(CHAMFER3_SIZE, CHAMFER3_SIZE2, e.wrapped, chamfer3_side_16[0].wrapped)  # the first distance lies on this face
    for e in chamfer3_edges_17:
        chamfer3.Add(CHAMFER3_SIZE, CHAMFER3_SIZE2, e.wrapped, chamfer3_side_17[0].wrapped)  # the first distance lies on this face
    for e in chamfer3_edges_18:
        chamfer3.Add(CHAMFER3_SIZE, CHAMFER3_SIZE2, e.wrapped, chamfer3_side_18[0].wrapped)  # the first distance lies on this face
    for e in chamfer3_edges_19:
        chamfer3.Add(CHAMFER3_SIZE, CHAMFER3_SIZE2, e.wrapped, chamfer3_side_19[0].wrapped)  # the first distance lies on this face
    for e in chamfer3_edges_20:
        chamfer3.Add(CHAMFER3_SIZE, CHAMFER3_SIZE2, e.wrapped, chamfer3_side_20[0].wrapped)  # the first distance lies on this face
    for e in chamfer3_edges_21:
        chamfer3.Add(CHAMFER3_SIZE, CHAMFER3_SIZE2, e.wrapped, chamfer3_side_21[0].wrapped)  # the first distance lies on this face
    for e in chamfer3_edges_22:
        chamfer3.Add(CHAMFER3_SIZE, CHAMFER3_SIZE2, e.wrapped, chamfer3_side_22[0].wrapped)  # the first distance lies on this face
    for e in chamfer3_edges_23:
        chamfer3.Add(CHAMFER3_SIZE, CHAMFER3_SIZE2, e.wrapped, chamfer3_side_23[0].wrapped)  # the first distance lies on this face
    for e in chamfer3_edges_24:
        chamfer3.Add(CHAMFER3_SIZE, CHAMFER3_SIZE2, e.wrapped, chamfer3_side_24[0].wrapped)  # the first distance lies on this face
    for e in chamfer3_edges_25:
        chamfer3.Add(CHAMFER3_SIZE, CHAMFER3_SIZE2, e.wrapped, chamfer3_side_25[0].wrapped)  # the first distance lies on this face
    for e in chamfer3_edges_26:
        chamfer3.Add(CHAMFER3_SIZE, CHAMFER3_SIZE2, e.wrapped, chamfer3_side_26[0].wrapped)  # the first distance lies on this face
    for e in chamfer3_edges_27:
        chamfer3.Add(CHAMFER3_SIZE, CHAMFER3_SIZE2, e.wrapped, chamfer3_side_27[0].wrapped)  # the first distance lies on this face
    for e in chamfer3_edges_28:
        chamfer3.Add(CHAMFER3_SIZE, CHAMFER3_SIZE2, e.wrapped, chamfer3_side_28[0].wrapped)  # the first distance lies on this face
    add(Compound.cast(chamfer3.Shape()), mode=Mode.REPLACE)


solid = part.part
